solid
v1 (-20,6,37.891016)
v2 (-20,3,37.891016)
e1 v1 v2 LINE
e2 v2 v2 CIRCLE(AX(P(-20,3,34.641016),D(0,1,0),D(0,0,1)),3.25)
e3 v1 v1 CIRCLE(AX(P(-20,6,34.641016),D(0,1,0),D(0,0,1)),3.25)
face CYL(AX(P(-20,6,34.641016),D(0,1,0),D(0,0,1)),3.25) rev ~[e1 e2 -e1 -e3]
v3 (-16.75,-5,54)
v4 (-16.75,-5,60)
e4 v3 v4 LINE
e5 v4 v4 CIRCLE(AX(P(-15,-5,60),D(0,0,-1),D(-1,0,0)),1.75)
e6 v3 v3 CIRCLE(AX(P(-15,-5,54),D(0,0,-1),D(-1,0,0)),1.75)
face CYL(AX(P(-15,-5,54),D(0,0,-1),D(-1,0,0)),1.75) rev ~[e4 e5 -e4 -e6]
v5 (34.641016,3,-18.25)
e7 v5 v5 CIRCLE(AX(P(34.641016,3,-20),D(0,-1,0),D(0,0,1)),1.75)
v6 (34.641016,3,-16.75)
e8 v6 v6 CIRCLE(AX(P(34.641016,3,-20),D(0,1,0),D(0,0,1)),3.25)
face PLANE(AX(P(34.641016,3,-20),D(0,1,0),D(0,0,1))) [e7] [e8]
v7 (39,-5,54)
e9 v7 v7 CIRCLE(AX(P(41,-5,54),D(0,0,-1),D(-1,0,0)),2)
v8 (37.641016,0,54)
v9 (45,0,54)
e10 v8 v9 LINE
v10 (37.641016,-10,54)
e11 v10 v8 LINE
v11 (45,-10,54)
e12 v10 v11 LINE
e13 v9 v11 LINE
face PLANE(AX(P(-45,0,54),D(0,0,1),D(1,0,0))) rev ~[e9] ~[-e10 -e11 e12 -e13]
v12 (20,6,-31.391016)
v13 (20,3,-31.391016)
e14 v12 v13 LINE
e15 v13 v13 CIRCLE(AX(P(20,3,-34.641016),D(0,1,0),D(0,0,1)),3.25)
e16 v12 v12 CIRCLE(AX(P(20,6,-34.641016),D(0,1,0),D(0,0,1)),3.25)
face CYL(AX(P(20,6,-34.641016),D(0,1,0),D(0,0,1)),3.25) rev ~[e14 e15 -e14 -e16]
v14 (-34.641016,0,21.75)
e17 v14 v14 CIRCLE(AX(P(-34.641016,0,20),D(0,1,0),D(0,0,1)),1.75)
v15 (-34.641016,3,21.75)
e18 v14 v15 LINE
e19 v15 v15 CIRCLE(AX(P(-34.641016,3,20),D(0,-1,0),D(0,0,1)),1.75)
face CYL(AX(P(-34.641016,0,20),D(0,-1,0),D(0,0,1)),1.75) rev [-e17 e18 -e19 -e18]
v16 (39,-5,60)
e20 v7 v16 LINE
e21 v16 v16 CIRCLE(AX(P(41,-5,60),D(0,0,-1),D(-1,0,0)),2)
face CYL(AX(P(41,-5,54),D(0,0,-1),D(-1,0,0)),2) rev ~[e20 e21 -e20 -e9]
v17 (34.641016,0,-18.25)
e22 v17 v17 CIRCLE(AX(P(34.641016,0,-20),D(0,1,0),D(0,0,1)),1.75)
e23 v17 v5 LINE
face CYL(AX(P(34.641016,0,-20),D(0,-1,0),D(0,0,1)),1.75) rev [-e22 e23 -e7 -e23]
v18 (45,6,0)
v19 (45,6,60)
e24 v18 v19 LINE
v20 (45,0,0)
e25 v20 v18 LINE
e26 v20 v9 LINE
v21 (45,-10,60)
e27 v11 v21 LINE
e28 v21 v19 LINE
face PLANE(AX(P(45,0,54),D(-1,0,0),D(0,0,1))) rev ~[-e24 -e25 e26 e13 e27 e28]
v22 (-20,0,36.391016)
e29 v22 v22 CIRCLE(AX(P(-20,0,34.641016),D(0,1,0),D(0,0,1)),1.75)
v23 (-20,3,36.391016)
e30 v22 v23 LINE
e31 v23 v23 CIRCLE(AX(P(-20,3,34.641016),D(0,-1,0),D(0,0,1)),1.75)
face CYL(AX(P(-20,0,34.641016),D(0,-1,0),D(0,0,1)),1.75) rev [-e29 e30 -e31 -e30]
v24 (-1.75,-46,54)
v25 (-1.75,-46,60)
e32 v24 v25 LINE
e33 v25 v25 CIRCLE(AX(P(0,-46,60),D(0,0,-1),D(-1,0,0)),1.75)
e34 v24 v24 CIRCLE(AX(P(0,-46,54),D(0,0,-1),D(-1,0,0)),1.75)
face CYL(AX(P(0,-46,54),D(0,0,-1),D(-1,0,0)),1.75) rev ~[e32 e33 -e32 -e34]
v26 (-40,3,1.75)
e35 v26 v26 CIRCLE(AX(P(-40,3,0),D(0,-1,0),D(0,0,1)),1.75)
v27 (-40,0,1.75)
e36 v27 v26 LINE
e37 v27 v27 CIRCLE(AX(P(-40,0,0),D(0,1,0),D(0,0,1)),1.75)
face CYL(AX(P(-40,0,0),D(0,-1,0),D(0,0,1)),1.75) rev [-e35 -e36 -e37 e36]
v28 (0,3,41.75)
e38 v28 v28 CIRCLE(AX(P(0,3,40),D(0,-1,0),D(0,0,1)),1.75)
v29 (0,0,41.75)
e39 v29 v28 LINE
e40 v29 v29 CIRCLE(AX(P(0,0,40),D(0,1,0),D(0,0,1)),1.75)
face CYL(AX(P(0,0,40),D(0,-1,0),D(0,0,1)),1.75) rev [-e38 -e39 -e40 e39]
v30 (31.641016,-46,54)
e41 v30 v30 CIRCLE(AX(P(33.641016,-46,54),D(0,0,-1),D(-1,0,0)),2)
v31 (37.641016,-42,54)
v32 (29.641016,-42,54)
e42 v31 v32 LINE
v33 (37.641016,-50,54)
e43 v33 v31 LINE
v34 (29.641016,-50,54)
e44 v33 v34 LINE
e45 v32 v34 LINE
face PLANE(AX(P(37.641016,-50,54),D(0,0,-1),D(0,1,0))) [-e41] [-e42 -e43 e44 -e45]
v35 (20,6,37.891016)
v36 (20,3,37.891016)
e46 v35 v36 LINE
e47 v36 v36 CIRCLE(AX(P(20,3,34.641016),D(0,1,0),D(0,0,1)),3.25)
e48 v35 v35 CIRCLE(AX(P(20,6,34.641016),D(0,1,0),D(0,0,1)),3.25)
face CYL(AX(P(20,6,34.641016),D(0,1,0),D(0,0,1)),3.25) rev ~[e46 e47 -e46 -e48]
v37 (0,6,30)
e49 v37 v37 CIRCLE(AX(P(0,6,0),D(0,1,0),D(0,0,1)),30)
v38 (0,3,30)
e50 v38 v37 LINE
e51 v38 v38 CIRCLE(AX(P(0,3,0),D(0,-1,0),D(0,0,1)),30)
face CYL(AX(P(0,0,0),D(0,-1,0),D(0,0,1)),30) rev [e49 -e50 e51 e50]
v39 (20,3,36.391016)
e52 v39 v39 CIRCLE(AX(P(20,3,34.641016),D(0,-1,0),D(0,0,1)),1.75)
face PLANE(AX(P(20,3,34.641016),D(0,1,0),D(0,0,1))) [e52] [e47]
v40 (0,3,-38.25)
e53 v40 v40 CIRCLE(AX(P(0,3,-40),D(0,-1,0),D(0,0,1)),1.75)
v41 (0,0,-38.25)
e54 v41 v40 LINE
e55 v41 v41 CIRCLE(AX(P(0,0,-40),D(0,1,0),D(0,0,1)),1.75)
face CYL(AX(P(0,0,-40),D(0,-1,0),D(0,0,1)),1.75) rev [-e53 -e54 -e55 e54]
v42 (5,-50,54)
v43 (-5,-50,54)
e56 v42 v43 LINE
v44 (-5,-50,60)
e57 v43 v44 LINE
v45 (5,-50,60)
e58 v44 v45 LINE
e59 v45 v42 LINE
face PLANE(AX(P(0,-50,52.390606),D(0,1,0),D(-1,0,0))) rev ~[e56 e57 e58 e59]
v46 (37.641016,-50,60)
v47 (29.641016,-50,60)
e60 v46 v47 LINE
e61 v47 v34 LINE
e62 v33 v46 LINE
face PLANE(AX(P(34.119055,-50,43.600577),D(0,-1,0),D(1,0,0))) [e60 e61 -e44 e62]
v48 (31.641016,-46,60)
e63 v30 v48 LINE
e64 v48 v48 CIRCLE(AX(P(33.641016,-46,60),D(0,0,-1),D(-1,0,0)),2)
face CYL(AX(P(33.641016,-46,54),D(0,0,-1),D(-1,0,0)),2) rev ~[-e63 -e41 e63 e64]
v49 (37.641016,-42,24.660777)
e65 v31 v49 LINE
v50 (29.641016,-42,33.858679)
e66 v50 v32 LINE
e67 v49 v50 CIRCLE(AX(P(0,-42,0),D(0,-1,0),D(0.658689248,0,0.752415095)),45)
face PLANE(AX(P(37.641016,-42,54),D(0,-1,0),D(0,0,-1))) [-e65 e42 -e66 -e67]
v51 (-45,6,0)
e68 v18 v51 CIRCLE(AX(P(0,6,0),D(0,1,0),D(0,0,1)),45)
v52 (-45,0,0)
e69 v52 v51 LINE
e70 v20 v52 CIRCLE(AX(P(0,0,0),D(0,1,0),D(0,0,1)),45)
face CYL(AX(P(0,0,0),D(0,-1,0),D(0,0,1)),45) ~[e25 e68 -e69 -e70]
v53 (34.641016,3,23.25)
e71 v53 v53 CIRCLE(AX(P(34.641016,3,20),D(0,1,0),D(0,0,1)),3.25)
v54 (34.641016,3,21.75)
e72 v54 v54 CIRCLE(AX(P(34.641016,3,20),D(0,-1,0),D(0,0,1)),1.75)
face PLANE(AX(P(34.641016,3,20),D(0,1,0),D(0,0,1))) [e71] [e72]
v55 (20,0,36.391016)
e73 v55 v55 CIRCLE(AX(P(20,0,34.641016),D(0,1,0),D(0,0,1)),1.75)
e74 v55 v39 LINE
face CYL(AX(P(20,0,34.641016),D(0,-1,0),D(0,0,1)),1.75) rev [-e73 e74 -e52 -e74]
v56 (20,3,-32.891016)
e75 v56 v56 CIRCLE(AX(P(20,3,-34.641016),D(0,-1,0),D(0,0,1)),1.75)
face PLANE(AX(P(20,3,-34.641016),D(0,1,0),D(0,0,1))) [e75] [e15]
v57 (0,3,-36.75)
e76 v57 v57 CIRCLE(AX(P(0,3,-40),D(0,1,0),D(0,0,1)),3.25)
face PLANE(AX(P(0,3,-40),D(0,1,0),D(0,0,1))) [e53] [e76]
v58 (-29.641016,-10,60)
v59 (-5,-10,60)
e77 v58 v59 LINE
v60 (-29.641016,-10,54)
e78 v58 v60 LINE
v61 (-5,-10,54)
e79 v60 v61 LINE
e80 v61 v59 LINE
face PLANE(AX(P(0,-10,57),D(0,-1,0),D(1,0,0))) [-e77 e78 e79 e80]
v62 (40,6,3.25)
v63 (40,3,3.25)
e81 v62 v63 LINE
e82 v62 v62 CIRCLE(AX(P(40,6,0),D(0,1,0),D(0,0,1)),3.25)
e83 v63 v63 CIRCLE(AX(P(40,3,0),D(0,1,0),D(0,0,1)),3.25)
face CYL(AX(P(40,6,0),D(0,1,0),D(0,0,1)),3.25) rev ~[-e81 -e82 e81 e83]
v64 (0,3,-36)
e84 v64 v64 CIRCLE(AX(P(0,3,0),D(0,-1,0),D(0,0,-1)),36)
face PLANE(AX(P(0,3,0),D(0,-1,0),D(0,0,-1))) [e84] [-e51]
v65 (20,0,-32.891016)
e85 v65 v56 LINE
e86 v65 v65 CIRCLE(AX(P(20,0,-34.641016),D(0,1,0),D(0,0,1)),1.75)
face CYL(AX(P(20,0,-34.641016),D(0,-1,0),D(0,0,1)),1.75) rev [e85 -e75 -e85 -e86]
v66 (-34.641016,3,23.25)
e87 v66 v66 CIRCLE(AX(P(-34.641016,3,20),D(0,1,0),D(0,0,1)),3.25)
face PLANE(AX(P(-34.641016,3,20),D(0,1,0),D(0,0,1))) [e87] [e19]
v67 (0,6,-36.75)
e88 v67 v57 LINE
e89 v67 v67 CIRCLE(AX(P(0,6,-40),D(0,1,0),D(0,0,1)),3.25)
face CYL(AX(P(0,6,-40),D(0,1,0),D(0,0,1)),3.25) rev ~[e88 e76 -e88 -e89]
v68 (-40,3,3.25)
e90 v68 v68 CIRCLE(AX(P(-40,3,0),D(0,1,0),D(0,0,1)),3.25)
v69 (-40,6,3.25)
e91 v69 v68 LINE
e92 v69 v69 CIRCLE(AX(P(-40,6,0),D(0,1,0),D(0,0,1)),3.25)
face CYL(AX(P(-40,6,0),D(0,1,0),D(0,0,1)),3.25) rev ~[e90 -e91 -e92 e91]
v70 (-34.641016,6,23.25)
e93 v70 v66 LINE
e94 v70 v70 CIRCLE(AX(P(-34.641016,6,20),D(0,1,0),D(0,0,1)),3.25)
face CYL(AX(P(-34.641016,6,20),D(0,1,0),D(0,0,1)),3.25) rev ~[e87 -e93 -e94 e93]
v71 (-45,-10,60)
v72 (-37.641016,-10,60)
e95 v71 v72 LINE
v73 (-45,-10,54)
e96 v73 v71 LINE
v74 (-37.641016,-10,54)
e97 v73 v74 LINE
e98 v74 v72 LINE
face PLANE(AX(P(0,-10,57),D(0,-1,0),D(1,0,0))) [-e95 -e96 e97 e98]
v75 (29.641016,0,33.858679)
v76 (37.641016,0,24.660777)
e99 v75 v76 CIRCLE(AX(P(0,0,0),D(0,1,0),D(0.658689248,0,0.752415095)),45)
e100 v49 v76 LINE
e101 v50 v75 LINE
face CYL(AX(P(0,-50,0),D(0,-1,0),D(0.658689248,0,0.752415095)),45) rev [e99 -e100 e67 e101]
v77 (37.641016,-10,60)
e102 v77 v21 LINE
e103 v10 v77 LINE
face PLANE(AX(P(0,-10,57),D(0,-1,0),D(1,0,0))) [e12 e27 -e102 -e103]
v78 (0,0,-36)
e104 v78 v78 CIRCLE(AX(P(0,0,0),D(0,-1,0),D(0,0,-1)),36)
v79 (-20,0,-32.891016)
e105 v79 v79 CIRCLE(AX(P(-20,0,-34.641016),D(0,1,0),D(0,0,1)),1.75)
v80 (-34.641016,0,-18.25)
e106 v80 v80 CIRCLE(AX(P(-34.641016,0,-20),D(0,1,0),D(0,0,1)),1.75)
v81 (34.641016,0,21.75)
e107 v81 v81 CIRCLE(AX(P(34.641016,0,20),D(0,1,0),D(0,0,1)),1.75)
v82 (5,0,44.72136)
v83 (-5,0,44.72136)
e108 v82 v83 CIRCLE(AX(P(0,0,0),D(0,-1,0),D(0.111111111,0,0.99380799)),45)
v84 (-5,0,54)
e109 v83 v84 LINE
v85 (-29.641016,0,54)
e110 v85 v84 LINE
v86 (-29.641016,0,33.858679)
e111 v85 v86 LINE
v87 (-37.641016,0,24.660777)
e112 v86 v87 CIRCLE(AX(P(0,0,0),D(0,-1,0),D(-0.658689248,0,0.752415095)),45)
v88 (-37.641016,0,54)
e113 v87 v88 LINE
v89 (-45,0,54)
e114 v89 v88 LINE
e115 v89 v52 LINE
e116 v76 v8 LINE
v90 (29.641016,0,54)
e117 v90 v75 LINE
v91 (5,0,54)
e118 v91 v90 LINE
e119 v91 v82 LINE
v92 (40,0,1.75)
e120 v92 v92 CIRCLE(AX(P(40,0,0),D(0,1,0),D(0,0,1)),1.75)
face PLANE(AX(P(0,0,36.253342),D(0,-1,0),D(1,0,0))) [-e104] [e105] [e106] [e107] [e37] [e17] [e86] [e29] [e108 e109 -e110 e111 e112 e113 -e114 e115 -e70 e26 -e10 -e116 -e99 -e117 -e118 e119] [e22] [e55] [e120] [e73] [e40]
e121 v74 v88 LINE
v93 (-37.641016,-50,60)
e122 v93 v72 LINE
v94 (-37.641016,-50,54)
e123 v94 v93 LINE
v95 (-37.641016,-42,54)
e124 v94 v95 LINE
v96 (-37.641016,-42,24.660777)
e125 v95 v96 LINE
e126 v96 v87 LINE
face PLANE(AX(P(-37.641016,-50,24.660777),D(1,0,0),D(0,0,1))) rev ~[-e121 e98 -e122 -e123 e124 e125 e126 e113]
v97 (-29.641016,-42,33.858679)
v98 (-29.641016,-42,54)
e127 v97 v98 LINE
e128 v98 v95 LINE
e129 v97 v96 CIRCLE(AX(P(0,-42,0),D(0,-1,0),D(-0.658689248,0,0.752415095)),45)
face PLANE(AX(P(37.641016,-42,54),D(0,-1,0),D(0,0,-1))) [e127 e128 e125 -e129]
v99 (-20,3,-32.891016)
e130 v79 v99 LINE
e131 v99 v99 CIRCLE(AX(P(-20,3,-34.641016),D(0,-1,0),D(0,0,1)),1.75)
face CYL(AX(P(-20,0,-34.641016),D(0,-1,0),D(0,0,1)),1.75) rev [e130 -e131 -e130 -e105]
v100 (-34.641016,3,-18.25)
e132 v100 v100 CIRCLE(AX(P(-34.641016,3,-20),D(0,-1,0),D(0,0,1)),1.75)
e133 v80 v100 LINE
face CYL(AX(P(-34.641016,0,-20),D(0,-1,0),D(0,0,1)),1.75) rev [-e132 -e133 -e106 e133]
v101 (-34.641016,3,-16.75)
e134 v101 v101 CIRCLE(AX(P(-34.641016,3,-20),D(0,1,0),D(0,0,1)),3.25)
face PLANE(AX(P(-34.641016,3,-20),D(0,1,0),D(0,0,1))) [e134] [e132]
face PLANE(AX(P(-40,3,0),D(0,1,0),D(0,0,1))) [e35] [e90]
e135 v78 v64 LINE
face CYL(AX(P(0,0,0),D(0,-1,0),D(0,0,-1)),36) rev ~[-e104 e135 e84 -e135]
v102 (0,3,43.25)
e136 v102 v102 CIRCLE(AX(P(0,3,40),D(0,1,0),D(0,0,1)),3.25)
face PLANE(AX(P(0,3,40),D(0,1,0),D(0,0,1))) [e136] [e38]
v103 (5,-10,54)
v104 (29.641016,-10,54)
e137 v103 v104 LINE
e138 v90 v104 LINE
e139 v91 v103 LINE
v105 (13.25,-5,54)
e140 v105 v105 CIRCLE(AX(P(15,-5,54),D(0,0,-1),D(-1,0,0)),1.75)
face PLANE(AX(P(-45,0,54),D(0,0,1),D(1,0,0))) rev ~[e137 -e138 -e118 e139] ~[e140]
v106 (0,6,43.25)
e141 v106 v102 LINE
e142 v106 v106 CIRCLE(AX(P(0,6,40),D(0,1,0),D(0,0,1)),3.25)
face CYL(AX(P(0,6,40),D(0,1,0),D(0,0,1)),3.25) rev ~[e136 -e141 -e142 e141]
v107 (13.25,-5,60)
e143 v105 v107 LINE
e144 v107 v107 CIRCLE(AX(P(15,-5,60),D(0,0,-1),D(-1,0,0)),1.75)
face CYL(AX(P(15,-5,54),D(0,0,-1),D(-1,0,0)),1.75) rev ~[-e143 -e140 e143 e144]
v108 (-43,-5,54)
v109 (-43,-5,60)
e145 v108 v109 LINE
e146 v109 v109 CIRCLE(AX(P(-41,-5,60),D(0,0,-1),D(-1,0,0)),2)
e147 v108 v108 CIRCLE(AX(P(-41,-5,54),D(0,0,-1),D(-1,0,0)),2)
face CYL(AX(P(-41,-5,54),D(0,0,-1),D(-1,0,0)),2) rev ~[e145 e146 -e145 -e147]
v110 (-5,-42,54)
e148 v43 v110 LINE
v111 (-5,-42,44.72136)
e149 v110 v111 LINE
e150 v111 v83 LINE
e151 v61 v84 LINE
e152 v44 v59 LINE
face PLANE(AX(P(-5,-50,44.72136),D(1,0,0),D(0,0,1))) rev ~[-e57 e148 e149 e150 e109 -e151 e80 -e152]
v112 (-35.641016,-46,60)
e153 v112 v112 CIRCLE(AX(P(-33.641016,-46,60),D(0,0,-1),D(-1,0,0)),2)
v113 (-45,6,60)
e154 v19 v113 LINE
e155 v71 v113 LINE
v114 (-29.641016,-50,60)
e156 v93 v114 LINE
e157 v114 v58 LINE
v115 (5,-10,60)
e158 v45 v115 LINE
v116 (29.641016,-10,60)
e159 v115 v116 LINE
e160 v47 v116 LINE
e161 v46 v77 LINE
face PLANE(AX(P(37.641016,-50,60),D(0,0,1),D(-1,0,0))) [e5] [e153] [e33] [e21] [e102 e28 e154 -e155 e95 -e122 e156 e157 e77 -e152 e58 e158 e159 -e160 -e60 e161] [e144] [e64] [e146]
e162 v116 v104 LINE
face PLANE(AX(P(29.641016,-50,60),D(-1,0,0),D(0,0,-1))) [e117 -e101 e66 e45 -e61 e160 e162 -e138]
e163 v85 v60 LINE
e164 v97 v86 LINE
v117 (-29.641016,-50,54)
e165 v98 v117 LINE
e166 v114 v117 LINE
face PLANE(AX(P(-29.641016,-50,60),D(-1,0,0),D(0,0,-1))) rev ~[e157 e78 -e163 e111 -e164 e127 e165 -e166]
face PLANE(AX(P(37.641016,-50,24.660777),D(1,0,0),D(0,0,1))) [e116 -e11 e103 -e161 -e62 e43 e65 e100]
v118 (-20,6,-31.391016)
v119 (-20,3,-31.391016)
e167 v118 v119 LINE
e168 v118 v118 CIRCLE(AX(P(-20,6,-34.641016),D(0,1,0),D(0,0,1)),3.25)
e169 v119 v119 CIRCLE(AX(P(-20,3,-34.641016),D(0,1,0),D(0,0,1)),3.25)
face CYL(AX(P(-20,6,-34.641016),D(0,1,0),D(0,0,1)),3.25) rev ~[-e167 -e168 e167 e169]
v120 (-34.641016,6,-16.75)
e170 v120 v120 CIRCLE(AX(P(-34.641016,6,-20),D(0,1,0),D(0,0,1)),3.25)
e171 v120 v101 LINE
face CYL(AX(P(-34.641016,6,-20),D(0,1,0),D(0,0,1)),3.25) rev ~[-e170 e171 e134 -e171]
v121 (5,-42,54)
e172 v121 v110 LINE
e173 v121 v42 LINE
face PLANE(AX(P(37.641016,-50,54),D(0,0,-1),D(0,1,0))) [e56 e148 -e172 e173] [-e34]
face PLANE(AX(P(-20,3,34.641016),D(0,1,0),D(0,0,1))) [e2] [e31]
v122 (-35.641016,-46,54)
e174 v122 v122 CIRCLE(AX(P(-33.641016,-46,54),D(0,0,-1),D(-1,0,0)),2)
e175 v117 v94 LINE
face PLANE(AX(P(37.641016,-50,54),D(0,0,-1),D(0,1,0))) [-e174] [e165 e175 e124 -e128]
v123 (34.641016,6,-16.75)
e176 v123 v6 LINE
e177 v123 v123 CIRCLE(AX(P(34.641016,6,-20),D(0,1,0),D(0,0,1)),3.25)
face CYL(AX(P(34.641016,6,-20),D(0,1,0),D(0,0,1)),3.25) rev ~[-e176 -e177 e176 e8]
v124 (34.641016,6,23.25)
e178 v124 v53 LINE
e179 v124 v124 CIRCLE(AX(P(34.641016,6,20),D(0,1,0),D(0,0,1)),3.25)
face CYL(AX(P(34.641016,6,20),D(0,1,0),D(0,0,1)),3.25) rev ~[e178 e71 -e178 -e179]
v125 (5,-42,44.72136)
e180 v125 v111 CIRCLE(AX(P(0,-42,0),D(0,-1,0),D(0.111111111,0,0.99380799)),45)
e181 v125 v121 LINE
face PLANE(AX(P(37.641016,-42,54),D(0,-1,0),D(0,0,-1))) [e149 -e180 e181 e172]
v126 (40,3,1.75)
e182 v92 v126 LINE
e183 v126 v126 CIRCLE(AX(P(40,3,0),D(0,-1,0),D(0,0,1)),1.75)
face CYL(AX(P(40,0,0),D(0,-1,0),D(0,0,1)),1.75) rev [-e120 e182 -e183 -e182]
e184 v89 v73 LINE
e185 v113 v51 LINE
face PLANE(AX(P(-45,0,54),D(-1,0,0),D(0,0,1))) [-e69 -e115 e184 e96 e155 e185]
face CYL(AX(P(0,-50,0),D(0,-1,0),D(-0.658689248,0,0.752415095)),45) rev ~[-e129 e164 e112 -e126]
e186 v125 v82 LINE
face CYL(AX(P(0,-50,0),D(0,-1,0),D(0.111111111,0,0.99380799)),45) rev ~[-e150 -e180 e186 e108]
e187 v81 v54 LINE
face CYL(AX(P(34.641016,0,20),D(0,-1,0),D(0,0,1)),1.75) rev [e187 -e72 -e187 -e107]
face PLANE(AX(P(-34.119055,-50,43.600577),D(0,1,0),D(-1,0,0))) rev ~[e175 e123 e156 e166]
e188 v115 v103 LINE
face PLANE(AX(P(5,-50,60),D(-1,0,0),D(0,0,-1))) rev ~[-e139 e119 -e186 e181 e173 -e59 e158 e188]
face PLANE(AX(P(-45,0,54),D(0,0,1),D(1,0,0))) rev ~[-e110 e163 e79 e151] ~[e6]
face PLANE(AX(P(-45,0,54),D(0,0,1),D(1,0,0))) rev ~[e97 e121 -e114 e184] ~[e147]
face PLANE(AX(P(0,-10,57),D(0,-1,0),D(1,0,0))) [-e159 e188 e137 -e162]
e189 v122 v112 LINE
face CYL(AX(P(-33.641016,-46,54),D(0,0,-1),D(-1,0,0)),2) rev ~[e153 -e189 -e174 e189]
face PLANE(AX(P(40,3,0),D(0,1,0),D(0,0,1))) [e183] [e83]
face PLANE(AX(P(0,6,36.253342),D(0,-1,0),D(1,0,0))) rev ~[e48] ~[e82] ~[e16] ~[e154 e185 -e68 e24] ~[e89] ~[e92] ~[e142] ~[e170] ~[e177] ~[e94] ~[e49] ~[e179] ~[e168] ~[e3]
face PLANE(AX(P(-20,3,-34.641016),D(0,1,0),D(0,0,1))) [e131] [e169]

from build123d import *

# Parameters (mm, degrees)
SKETCH1_R           = 45
SKETCH1_R_2         = 30
SKETCH1_R_3         = 1.75
BOSS_EXTRUDE1_DEPTH = 6
SKETCH2_R           = 36
CUT_EXTRUDE1_DEPTH  = 3
SKETCH3_R           = 3.25
CUT_EXTRUDE2_DEPTH  = 3
BOSS_EXTRUDE4_DEPTH = 6
SKETCH5_W           = 90
SKETCH5_H           = 6
BOSS_EXTRUDE6_DEPTH = 10
BOSS_EXTRUDE7_START = 50
BOSS_EXTRUDE7_DEPTH = 50
SKETCH7_W           = 29.339223388
SKETCH7_H           = 8
CUT_EXTRUDE3_DEPTH  = 114.708124382
SKETCH8_R           = 2
SKETCH8_R_2         = 1.75
CUT_EXTRUDE5_DEPTH  = 120.691269523


with BuildPart() as part:
    # Sketch1 → Boss-Extrude1 (new body)
    with BuildSketch(Plane(origin=(0, 0, 0), x_dir=(1, 0, 0), z_dir=(0, 1, 0))):
        with Locations(Location((0, 0, 0), (0, 0, 270))):
            Circle(SKETCH1_R)
        with Locations(Location((0, 0, 0), (0, 0, 270))):
            Circle(SKETCH1_R_2, mode=Mode.SUBTRACT)
        with Locations(Location((0, 40, 0), (0, 0, 270))):
            Circle(SKETCH1_R_3, mode=Mode.SUBTRACT)
        with Locations(Location((20, 34.641016151, 0), (0, 0, 270))):
            Circle(SKETCH1_R_3, mode=Mode.SUBTRACT)
        with Locations(Location((34.641016151, 20, 0), (0, 0, 270))):
            Circle(SKETCH1_R_3, mode=Mode.SUBTRACT)
        with Locations(Location((40, 0, 0), (0, 0, 270))):
            Circle(SKETCH1_R_3, mode=Mode.SUBTRACT)
        with Locations(Location((34.641016151, -20, 0), (0, 0, 270))):
            Circle(SKETCH1_R_3, mode=Mode.SUBTRACT)
        with Locations(Location((20, -34.641016151, 0), (0, 0, 270))):
            Circle(SKETCH1_R_3, mode=Mode.SUBTRACT)
        with Locations(Location((0, -40, 0), (0, 0, 270))):
            Circle(SKETCH1_R_3, mode=Mode.SUBTRACT)
        with Locations(Location((-20, -34.641016151, 0), (0, 0, 270))):
            Circle(SKETCH1_R_3, mode=Mode.SUBTRACT)
        with Locations(Location((-34.641016151, -20, 0), (0, 0, 270))):
            Circle(SKETCH1_R_3, mode=Mode.SUBTRACT)
        with Locations(Location((-40, 0, 0), (0, 0, 270))):
            Circle(SKETCH1_R_3, mode=Mode.SUBTRACT)
        with Locations(Location((-34.641016151, 20, 0), (0, 0, 270))):
            Circle(SKETCH1_R_3, mode=Mode.SUBTRACT)
        with Locations(Location((-20, 34.641016151, 0), (0, 0, 270))):
            Circle(SKETCH1_R_3, mode=Mode.SUBTRACT)
    extrude(amount=BOSS_EXTRUDE1_DEPTH)

    # Sketch2 → Cut-Extrude1 (cut)
    with BuildSketch(Plane.XZ):
        with Locations(Location((0, 0, 0), (0, 0, 270))):
            Circle(SKETCH2_R)
    extrude(amount=-CUT_EXTRUDE1_DEPTH, mode=Mode.SUBTRACT)

    # Sketch3 → Cut-Extrude2 (cut)
    with BuildSketch(Plane(origin=(0, 6, 0), x_dir=(1, 0, 0), z_dir=(0, 1, 0))):
        with Locations(Location((40, 0, 0), (0, 0, 270))):
            Circle(SKETCH3_R)
        with Locations(Location((34.641016151, -20, 0), (0, 0, 270))):
            Circle(SKETCH3_R)
        with Locations(Location((20, -34.641016151, 0), (0, 0, 270))):
            Circle(SKETCH3_R)
        with Locations(Location((0, -40, 0), (0, 0, 270))):
            Circle(SKETCH3_R)
        with Locations(Location((-20, -34.641016151, 0), (0, 0, 270))):
            Circle(SKETCH3_R)
        with Locations(Location((-34.641016151, -20, 0), (0, 0, 270))):
            Circle(SKETCH3_R)
        with Locations(Location((-40, 0, 0), (0, 0, 270))):
            Circle(SKETCH3_R)
        with Locations(Location((-34.641016151, 20, 0), (0, 0, 270))):
            Circle(SKETCH3_R)
        with Locations(Location((-20, 34.641016151, 0), (0, 0, 270))):
            Circle(SKETCH3_R)
        with Locations(Location((0, 40, 0), (0, 0, 270))):
            Circle(SKETCH3_R)
        with Locations(Location((20, 34.641016151, 0), (0, 0, 270))):
            Circle(SKETCH3_R)
        with Locations(Location((34.641016151, 20, 0), (0, 0, 270))):
            Circle(SKETCH3_R)
    extrude(amount=-CUT_EXTRUDE2_DEPTH, mode=Mode.SUBTRACT)

    # Sketch4 → Boss-Extrude4 (add)
    with BuildSketch(Plane.XZ):
        with BuildLine():
            Line((45, 0), (45, 60))
            Line((45, 60), (-45, 60))
            Line((-45, 60), (-45, 0))
            ThreePointArc((-45, 0), (0, 45), (45, 0))
        make_face()
    extrude(amount=-BOSS_EXTRUDE4_DEPTH)

    # Sketch5 → Boss-Extrude6 (add)
    with BuildSketch(Plane.XZ):
        with Locations((0, 57)):
            Rectangle(SKETCH5_W, SKETCH5_H)
    extrude(amount=BOSS_EXTRUDE6_DEPTH)

    # Sketch6 → Boss-Extrude7 (add)
    with BuildSketch(Plane.XZ.offset(BOSS_EXTRUDE7_START)):
        with BuildLine():
            Line((37.641016151, 24.660776612), (37.641016151, 60))
            Line((37.641016151, 60), (29.641016151, 60))
            Line((29.641016151, 60), (29.641016151, 33.858679264))
            ThreePointArc((29.641016151, 33.858679264), (33.953914664, 29.531875643), (37.641016151, 24.660776612))
        make_face()
        with BuildLine():
            Line((-5, 60), (5, 60))
            Line((5, 60), (5, 44.72135955))
            ThreePointArc((5, 44.72135955), (0, 45), (-5, 44.72135955))
            Line((-5, 44.72135955), (-5, 60))
        make_face()
        with BuildLine():
            Line((-29.641016151, 60), (-29.641016151, 33.858679264))
            ThreePointArc((-29.641016151, 33.858679264), (-33.953914664, 29.531875643), (-37.641016151, 24.660776612))
            Line((-37.641016151, 24.660776612), (-37.641016151, 60))
            Line((-37.641016151, 60), (-29.641016151, 60))
        make_face()
    extrude(amount=-BOSS_EXTRUDE7_DEPTH)

    # Sketch7 → Cut-Extrude3 (cut, through all)
    with BuildSketch(Plane(origin=(37.641016151, 0, 0), x_dir=(0, 0, -1), z_dir=(1, 0, 0))):
        with Locations((-39.330388306, -46)):
            Rectangle(SKETCH7_W, SKETCH7_H)
    extrude(amount=-CUT_EXTRUDE3_DEPTH, mode=Mode.SUBTRACT)

    # Sketch8 → Cut-Extrude5 (cut, through all)
    with BuildSketch(Plane(origin=(0, 0, 54), x_dir=(-1, 0, 0), z_dir=(0, 0, -1))):
        with Locations((41, -5)):
            Circle(SKETCH8_R)
        with Locations((33.641016151, -46)):
            Circle(SKETCH8_R)
        with Locations((0, -46)):
            Circle(SKETCH8_R_2)
        with Locations((15, -5)):
            Circle(SKETCH8_R_2)
        with Locations((-33.641016151, -46)):
            Circle(SKETCH8_R)
        with Locations((-41, -5)):
            Circle(SKETCH8_R)
        with Locations((-15, -5)):
            Circle(SKETCH8_R_2)
    extrude(amount=-CUT_EXTRUDE5_DEPTH, mode=Mode.SUBTRACT)


solid = part.part
